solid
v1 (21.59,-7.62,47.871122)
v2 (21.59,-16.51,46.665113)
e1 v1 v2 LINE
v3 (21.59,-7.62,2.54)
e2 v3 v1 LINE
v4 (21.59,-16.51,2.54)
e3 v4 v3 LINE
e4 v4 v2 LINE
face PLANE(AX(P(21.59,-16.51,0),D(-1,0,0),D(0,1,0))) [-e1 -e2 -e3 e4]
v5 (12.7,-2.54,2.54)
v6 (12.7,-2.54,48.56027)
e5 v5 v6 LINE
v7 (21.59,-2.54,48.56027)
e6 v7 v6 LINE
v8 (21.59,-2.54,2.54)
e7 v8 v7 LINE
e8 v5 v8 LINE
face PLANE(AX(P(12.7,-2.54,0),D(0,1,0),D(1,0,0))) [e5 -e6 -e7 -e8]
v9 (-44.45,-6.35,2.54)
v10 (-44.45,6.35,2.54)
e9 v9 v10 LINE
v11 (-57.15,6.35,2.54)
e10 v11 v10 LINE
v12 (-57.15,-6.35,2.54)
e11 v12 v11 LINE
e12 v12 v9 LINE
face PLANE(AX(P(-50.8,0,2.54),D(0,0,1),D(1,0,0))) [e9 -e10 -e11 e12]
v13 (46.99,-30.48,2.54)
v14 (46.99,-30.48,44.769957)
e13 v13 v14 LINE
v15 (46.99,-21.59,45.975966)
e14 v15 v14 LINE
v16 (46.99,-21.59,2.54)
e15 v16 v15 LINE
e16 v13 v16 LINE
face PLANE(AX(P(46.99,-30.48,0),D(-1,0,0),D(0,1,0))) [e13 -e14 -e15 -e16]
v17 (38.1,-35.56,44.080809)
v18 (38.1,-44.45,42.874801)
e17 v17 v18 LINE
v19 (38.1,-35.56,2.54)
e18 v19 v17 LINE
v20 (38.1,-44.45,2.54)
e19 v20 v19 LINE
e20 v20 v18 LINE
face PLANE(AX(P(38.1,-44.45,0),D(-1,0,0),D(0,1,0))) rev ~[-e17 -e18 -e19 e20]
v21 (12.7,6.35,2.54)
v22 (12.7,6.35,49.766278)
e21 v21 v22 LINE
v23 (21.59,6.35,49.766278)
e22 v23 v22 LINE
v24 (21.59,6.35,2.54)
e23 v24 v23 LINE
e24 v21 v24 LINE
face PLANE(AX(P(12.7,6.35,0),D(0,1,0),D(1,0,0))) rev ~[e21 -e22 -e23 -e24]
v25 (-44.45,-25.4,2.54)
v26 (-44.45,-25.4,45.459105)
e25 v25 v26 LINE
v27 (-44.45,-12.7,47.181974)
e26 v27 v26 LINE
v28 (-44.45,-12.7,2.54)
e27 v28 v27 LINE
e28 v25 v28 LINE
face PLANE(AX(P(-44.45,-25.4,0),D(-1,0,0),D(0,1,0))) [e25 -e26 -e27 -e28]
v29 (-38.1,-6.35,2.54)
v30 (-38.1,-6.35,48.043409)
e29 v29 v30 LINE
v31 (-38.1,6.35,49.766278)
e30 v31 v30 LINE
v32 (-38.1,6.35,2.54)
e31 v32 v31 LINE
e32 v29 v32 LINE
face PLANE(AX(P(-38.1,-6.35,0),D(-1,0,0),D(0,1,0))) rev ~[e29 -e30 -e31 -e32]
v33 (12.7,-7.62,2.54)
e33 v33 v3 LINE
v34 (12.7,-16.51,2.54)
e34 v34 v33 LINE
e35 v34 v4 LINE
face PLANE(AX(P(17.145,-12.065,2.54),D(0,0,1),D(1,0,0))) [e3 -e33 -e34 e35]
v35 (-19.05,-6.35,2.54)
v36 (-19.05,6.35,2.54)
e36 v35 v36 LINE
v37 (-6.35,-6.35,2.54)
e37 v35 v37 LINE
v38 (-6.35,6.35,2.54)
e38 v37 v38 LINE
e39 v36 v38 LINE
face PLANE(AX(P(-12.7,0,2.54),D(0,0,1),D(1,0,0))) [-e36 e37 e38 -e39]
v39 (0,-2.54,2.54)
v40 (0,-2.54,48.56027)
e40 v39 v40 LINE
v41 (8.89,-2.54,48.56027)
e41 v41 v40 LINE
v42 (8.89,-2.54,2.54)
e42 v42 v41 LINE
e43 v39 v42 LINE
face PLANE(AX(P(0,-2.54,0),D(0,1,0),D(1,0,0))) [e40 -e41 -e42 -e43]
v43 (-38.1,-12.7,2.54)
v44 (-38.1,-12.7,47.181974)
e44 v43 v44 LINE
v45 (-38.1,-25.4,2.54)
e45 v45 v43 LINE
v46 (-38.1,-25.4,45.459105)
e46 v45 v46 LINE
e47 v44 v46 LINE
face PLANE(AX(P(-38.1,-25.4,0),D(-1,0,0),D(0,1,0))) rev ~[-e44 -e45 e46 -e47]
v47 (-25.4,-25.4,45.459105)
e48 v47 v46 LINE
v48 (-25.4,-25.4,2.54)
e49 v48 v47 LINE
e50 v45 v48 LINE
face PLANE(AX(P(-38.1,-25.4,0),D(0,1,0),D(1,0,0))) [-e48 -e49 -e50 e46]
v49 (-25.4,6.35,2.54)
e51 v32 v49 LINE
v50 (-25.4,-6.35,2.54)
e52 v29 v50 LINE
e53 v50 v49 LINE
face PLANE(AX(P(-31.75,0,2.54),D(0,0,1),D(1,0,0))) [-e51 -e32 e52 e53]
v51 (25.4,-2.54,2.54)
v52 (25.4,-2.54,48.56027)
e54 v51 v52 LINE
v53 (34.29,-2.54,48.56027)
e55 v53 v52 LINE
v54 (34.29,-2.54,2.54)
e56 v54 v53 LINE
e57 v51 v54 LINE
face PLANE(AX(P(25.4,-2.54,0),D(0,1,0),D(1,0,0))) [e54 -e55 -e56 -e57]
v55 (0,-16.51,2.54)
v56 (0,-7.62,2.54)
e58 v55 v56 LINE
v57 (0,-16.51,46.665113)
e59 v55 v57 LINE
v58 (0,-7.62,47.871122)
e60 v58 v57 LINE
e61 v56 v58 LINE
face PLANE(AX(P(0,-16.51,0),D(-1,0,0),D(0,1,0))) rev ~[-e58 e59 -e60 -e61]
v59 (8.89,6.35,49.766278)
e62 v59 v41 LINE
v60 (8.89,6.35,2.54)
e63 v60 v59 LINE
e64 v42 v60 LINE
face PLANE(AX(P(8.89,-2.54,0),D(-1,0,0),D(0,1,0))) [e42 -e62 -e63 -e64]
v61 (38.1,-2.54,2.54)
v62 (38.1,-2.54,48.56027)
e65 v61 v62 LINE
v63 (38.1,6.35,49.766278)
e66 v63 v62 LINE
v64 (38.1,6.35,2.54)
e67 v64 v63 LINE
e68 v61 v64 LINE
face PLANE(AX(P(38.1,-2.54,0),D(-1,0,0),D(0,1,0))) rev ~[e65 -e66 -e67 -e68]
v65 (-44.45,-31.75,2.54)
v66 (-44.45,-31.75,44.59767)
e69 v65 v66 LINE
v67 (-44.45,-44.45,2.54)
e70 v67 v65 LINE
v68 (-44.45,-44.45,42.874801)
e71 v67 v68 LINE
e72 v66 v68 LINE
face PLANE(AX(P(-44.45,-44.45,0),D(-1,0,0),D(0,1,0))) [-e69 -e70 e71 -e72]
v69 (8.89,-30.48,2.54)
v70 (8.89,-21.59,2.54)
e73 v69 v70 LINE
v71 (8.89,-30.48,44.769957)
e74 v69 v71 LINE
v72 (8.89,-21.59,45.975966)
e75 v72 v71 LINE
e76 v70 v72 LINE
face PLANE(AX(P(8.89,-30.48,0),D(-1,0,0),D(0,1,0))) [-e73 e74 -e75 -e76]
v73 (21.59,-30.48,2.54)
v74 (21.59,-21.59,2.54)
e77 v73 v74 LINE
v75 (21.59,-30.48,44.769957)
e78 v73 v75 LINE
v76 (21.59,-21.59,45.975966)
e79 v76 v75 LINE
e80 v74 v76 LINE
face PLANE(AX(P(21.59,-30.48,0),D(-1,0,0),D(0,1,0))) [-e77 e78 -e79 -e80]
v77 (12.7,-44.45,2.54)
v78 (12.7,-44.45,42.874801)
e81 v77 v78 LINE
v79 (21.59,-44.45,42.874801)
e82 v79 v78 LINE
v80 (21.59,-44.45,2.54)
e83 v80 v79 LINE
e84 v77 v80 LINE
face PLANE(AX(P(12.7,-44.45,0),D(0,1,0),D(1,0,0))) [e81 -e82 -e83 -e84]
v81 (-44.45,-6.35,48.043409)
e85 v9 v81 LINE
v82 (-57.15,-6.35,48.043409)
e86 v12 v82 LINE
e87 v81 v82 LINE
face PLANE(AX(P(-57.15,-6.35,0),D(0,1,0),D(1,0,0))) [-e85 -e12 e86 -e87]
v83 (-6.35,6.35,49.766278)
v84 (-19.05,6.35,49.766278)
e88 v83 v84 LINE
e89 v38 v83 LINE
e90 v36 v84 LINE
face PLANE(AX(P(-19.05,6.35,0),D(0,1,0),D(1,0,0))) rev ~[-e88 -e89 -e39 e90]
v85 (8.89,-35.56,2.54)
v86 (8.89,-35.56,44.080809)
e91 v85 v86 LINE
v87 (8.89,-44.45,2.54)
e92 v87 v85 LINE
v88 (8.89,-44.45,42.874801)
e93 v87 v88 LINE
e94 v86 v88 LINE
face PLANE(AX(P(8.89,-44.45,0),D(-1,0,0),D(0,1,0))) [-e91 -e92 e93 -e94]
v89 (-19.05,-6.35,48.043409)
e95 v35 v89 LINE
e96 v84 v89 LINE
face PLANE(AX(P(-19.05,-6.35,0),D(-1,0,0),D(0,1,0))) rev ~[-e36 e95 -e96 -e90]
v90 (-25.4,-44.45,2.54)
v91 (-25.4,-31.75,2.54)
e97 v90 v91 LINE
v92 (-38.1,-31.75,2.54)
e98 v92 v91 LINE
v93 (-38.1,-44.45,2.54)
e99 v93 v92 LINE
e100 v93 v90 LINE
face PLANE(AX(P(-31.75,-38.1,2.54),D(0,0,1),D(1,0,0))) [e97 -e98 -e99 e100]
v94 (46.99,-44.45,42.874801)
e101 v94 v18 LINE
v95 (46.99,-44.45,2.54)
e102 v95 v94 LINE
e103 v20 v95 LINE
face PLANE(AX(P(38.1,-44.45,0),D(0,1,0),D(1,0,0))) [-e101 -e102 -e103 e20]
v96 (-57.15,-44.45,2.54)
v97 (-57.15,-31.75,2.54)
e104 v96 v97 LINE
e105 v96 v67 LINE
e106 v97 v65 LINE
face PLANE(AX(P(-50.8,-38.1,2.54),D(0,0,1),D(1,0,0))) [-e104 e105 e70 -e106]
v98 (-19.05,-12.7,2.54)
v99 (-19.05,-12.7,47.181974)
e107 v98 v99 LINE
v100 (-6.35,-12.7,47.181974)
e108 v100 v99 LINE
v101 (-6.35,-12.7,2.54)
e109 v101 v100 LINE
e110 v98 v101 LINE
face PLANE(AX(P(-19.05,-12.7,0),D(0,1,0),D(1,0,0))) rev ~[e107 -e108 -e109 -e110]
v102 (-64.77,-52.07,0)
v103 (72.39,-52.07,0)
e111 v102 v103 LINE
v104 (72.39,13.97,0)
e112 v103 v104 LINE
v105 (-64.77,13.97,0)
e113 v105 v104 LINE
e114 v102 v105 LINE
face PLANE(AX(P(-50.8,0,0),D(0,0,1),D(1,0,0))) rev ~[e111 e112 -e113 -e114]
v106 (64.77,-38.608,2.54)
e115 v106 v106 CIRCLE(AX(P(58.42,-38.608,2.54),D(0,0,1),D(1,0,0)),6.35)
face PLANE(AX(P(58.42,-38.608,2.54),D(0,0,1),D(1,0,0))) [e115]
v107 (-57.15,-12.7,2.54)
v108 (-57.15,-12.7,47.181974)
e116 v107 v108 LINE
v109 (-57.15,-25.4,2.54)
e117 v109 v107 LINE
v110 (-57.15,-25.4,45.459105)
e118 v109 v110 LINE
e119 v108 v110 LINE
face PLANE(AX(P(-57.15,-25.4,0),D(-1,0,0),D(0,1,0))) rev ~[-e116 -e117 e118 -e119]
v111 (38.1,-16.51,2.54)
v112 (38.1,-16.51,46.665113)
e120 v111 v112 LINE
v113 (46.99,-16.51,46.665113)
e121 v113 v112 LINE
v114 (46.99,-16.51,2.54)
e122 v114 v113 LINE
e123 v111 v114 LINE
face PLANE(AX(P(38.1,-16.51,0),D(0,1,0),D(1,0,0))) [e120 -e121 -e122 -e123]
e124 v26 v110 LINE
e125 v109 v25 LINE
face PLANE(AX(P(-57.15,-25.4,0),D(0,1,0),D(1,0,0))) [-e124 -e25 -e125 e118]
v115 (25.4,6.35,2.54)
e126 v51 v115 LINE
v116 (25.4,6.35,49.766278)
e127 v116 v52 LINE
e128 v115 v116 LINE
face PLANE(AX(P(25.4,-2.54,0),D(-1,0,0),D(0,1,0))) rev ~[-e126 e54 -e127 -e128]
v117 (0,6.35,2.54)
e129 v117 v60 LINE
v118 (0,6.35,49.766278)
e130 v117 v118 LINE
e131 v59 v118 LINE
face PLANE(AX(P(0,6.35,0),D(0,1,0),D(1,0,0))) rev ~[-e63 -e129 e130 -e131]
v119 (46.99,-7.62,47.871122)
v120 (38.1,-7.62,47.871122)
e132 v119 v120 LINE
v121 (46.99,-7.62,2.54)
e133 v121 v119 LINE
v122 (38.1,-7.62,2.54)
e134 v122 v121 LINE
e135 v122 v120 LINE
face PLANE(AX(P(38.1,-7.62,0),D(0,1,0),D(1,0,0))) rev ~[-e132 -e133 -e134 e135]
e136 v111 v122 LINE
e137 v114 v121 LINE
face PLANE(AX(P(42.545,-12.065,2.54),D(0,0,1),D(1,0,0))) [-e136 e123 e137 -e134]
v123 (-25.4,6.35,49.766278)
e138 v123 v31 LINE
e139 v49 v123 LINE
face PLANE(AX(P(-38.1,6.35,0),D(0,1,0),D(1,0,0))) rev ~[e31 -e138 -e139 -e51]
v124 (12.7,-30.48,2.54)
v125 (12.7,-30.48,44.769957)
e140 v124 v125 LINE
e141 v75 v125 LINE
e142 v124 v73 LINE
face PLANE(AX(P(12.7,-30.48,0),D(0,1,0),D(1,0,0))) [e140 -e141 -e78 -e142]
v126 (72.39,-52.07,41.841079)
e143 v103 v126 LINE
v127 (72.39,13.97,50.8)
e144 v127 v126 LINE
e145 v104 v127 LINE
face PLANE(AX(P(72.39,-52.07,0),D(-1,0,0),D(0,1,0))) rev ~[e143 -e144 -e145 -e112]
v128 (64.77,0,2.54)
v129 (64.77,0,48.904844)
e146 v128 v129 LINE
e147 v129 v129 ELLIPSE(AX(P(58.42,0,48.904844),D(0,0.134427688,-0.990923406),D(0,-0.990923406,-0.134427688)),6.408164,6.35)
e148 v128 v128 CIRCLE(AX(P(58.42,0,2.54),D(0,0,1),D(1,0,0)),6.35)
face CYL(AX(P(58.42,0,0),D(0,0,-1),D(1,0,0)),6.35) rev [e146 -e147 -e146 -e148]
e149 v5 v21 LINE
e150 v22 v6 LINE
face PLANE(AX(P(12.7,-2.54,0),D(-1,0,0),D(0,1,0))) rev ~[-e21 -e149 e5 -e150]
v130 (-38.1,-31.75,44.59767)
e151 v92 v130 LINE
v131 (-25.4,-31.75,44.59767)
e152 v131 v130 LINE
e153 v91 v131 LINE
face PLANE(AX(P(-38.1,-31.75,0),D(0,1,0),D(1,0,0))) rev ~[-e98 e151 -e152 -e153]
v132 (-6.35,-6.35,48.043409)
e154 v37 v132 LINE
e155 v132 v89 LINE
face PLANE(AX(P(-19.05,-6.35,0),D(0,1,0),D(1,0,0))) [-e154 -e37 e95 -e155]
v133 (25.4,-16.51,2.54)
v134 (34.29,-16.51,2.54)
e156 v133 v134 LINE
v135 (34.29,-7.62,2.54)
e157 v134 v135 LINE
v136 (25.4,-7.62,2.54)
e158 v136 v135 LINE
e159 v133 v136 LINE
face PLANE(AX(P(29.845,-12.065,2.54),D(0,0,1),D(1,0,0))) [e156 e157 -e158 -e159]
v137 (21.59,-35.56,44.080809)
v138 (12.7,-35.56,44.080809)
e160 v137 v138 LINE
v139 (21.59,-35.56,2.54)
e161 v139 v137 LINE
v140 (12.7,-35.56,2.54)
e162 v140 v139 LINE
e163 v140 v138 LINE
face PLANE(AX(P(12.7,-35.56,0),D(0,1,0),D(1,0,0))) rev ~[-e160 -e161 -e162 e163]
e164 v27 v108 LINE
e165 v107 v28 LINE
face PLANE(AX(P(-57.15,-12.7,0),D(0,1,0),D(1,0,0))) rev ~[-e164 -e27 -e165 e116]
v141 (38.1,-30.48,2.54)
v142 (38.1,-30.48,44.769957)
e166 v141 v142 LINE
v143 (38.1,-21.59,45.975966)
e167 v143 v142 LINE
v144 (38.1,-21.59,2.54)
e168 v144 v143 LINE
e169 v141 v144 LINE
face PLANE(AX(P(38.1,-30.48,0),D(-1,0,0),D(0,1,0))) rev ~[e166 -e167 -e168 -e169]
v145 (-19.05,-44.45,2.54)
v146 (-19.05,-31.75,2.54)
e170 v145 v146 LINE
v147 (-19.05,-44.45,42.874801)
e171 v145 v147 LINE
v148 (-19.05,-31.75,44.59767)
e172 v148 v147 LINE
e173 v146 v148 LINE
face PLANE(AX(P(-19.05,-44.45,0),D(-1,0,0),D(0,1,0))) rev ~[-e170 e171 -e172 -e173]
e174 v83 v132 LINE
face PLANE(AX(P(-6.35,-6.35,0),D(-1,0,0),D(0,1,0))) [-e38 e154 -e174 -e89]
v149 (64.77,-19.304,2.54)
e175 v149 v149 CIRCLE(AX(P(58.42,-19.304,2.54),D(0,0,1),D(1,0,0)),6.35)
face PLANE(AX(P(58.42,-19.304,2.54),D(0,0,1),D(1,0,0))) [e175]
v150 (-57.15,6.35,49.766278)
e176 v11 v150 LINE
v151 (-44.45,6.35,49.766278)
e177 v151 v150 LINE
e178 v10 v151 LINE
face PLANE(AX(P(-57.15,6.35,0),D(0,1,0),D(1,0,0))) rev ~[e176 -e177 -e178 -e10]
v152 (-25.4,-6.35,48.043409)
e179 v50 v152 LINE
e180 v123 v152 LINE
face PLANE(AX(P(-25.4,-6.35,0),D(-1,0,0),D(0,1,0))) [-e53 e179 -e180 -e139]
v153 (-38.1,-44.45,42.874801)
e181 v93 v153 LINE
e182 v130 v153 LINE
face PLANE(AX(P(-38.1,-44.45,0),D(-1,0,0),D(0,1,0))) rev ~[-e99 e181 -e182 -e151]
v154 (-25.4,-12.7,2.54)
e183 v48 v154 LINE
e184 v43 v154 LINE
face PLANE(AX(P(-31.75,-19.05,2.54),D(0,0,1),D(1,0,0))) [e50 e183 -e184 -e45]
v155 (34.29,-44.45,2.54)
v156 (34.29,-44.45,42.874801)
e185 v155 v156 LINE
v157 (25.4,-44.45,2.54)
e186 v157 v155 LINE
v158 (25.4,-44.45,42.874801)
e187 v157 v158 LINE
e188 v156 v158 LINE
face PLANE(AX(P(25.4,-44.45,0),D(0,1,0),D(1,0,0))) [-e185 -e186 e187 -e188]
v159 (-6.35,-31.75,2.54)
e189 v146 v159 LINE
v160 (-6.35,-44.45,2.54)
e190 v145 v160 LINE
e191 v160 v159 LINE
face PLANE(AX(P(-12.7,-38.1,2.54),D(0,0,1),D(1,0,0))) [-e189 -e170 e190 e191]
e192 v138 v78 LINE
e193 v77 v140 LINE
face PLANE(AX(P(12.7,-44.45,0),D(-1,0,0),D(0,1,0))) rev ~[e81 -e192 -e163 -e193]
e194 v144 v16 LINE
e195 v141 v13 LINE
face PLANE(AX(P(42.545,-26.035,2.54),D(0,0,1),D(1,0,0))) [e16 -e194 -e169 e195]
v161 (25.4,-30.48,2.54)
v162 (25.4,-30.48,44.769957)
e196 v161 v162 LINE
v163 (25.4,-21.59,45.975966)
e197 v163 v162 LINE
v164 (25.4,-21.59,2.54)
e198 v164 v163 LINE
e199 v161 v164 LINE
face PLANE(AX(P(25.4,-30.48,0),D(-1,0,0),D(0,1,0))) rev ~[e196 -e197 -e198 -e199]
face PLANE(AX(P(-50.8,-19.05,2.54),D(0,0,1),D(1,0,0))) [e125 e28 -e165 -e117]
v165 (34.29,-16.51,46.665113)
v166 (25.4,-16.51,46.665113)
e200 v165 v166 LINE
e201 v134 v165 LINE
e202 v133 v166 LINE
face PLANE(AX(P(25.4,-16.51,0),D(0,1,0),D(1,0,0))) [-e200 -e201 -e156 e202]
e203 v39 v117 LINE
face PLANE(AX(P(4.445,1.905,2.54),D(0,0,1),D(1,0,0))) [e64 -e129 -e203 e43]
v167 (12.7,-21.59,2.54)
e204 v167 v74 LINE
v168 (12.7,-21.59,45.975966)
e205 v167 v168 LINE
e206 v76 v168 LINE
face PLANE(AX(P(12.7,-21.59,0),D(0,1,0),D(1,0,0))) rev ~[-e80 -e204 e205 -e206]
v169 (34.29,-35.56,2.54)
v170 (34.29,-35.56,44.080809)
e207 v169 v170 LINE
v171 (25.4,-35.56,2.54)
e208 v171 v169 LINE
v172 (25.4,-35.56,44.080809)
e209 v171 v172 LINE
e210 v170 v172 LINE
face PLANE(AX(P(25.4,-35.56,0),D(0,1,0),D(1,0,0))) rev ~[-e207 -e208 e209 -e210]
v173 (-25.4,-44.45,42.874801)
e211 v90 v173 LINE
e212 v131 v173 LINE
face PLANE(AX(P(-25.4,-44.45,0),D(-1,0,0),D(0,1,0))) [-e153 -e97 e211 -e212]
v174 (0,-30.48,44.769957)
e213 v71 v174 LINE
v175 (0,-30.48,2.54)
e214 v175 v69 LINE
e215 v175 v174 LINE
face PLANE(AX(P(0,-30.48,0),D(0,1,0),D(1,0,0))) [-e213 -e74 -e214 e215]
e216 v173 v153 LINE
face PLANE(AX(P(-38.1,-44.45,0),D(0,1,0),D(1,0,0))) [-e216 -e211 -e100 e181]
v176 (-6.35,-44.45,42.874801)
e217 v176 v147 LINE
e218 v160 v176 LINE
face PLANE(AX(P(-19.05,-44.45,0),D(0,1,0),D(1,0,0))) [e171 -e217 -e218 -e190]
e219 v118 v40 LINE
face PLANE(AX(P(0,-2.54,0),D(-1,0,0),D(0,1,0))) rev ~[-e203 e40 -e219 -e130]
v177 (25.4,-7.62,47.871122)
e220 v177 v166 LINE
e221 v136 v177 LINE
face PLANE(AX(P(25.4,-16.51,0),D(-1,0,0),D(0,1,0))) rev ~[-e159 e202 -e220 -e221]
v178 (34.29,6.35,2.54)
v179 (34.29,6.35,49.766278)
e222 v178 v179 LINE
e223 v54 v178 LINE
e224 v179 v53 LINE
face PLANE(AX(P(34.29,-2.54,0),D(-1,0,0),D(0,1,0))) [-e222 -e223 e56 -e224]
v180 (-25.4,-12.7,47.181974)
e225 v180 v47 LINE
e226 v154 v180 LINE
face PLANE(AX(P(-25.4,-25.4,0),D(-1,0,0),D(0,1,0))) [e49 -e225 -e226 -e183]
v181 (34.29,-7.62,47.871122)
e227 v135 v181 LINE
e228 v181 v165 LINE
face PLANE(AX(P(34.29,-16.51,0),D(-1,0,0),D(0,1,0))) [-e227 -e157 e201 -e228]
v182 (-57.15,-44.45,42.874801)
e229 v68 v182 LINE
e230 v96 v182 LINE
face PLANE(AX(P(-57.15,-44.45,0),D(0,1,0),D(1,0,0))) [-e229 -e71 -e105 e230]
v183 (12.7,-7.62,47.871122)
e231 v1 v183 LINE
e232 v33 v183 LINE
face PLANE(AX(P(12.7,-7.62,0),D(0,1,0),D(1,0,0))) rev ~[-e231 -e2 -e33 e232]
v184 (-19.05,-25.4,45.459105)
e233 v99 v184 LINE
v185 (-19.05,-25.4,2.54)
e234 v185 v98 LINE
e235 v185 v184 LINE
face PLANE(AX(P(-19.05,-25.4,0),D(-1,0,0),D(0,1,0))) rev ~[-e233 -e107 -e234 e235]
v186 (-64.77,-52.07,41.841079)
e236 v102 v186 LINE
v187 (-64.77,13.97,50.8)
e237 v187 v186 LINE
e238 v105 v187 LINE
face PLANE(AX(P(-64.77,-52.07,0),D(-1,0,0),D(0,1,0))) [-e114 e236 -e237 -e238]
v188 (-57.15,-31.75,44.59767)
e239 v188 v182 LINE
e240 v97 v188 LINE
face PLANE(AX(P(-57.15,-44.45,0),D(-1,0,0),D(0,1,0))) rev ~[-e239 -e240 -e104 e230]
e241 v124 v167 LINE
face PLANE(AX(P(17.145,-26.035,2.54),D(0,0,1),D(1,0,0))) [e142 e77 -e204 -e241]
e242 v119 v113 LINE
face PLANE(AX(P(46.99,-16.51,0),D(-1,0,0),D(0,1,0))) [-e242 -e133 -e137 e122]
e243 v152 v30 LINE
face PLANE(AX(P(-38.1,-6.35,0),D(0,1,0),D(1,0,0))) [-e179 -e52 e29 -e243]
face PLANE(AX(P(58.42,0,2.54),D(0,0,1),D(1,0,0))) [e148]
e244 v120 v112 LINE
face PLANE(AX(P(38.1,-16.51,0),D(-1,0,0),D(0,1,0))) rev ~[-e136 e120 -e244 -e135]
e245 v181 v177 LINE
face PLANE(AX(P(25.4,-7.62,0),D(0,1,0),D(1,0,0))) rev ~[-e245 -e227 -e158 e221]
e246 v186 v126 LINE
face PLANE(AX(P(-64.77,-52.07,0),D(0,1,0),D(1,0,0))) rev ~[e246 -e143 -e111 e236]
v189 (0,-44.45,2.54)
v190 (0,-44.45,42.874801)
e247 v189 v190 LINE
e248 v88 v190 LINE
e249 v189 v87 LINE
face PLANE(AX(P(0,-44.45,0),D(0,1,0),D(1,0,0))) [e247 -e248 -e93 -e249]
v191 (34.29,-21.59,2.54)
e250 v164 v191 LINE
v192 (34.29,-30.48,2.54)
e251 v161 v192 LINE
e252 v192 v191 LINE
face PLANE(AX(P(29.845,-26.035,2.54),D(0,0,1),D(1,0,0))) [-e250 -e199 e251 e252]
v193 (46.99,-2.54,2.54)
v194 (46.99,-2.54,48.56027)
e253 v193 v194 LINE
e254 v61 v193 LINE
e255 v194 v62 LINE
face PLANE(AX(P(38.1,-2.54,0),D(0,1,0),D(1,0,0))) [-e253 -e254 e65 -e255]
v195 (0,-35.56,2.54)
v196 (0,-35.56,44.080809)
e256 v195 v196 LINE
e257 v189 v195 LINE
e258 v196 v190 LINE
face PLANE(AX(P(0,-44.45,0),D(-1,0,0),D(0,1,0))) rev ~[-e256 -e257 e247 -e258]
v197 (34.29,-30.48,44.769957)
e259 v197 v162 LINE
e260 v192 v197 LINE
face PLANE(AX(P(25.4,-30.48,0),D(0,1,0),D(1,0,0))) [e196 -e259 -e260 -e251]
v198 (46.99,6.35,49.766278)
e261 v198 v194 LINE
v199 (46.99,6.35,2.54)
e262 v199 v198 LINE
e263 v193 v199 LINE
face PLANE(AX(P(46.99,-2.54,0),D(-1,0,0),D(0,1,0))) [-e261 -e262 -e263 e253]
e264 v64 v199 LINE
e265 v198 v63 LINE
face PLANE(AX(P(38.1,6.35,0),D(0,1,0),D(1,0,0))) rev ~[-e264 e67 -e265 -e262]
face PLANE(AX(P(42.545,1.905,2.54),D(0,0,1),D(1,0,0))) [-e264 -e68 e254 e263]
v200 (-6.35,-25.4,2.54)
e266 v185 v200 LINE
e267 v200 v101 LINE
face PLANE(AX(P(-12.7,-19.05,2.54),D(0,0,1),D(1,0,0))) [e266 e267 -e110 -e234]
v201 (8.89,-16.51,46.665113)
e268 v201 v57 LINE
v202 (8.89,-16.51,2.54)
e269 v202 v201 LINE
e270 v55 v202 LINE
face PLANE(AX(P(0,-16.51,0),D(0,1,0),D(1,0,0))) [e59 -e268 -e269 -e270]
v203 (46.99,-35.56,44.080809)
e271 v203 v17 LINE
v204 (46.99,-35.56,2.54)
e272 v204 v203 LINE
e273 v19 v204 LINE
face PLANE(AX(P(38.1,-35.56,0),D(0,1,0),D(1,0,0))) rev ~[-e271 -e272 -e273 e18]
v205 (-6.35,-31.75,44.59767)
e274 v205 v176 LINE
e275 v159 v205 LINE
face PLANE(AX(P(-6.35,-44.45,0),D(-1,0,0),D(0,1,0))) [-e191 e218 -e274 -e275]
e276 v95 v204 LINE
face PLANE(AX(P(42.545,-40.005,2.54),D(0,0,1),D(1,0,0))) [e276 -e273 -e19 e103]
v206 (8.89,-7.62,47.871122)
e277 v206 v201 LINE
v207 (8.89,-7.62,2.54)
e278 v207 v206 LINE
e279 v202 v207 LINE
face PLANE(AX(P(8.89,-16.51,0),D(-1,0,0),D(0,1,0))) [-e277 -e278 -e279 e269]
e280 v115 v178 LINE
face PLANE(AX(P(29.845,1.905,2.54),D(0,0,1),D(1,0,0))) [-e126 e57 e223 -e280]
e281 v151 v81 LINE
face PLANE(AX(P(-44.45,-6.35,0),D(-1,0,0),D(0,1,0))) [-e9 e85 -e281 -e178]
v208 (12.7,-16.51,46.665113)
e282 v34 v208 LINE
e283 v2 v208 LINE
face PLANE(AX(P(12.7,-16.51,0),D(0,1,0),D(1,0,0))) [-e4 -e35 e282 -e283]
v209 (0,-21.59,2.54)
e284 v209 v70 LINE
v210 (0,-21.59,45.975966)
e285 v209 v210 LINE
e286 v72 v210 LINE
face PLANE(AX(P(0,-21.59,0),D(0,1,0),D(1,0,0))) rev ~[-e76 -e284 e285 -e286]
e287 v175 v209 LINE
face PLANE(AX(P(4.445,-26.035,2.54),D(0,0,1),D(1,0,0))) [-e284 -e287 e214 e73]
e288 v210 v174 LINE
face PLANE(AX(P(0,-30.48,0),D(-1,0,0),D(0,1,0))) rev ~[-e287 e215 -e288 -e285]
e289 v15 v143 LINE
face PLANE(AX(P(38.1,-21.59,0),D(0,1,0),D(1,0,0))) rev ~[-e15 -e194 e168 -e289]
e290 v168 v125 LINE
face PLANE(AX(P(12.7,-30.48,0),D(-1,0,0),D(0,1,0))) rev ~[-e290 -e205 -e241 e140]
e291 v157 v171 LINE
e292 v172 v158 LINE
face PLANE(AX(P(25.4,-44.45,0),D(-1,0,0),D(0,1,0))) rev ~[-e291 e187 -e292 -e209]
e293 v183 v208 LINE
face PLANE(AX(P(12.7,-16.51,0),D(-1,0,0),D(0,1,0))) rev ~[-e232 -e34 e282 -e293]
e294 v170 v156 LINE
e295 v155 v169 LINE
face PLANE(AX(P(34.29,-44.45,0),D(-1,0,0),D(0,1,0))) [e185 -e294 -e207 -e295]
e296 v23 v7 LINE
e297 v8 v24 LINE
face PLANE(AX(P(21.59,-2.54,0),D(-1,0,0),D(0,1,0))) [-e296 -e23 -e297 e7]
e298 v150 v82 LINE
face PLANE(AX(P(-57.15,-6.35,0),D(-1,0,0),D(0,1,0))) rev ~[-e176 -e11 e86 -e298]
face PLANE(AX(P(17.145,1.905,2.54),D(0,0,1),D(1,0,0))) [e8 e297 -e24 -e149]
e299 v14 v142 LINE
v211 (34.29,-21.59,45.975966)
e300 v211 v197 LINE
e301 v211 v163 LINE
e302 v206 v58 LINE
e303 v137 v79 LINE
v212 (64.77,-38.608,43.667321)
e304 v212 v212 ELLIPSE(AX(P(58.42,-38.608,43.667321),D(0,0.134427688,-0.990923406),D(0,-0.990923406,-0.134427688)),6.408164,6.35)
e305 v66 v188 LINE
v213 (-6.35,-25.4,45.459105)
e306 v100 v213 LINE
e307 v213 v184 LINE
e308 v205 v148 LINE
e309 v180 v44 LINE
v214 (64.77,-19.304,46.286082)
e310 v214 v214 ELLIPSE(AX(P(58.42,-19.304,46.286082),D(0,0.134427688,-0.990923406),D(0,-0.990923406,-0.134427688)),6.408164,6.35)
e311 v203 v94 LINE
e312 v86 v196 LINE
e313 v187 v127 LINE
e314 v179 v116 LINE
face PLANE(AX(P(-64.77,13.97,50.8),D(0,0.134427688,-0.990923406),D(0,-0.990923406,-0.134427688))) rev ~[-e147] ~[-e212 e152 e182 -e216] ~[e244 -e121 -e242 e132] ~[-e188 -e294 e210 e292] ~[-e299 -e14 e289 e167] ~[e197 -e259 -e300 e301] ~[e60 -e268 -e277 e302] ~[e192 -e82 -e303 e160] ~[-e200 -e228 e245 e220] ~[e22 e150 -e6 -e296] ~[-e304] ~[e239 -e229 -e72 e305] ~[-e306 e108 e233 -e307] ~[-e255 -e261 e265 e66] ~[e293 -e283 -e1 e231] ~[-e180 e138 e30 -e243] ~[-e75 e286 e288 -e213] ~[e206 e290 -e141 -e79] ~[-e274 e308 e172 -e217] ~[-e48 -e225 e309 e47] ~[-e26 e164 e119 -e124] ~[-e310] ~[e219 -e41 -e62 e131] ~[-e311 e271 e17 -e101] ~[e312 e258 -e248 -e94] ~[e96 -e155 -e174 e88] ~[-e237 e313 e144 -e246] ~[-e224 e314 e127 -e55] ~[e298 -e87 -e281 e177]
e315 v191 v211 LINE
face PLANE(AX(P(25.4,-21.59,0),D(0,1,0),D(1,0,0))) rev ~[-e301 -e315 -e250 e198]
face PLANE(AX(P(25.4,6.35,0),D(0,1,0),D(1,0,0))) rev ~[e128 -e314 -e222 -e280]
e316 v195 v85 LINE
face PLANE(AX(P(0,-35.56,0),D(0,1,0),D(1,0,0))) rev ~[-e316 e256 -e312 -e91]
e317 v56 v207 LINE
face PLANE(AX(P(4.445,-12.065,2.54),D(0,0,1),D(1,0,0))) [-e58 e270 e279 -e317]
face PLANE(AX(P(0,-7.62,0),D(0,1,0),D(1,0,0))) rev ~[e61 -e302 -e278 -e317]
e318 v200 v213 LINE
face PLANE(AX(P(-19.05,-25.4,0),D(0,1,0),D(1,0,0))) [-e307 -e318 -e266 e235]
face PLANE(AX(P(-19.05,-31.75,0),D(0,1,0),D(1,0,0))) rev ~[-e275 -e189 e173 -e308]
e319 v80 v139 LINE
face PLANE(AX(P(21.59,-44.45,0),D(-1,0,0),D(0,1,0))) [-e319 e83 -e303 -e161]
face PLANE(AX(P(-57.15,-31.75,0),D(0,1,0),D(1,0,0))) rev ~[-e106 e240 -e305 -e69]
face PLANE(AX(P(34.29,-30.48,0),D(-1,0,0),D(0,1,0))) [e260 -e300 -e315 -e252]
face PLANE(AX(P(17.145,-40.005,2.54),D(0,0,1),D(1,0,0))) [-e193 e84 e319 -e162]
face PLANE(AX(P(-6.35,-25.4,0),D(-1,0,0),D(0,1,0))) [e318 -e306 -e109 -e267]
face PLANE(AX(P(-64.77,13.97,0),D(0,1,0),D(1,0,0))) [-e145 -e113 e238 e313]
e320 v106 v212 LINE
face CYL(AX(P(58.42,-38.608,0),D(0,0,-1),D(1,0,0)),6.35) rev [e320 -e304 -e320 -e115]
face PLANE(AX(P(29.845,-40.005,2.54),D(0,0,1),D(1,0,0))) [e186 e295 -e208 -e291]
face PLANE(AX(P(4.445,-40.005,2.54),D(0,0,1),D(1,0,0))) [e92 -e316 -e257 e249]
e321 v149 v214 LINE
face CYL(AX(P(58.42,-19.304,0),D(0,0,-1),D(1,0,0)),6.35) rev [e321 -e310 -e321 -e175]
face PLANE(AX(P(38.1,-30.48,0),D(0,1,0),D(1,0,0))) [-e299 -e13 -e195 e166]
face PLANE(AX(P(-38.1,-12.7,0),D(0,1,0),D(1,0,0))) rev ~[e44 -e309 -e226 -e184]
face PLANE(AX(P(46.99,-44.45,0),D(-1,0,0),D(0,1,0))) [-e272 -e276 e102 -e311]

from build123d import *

# Parameters (mm, degrees)
F0_W     = 137.16
F0_H     = 66.04
F0_W_2   = 12.7
F0_H_2   = 12.7
F0_W_3   = 8.89
F0_H_3   = 8.89
F0_R     = 6.35
F1_DEPTH = 50.8
F2_DEPTH = 2.54
F4_DEPTH = 149.098


with BuildPart() as f1:
    # F0 (on Top) → F1 (new body)
    with BuildSketch(Plane.XY):
        with Locations((3.81, -19.05)):
            Rectangle(F0_W, F0_H)
        with Locations((-50.8, -38.1)):
            Rectangle(F0_W_2, F0_H_2, mode=Mode.SUBTRACT)
        with Locations((-31.75, -38.1)):
            Rectangle(F0_W_2, F0_H_2, mode=Mode.SUBTRACT)
        with Locations((-12.7, -38.1)):
            Rectangle(F0_W_2, F0_H_2, mode=Mode.SUBTRACT)
        with Locations((4.445, -40.005)):
            Rectangle(F0_W_3, F0_H_3, mode=Mode.SUBTRACT)
        with Locations((17.145, -40.005)):
            Rectangle(F0_W_3, F0_H_3, mode=Mode.SUBTRACT)
        with Locations((29.845, -40.005)):
            Rectangle(F0_W_3, F0_H_3, mode=Mode.SUBTRACT)
        with Locations((42.545, -40.005)):
            Rectangle(F0_W_3, F0_H_3, mode=Mode.SUBTRACT)
        with Locations((58.42, -38.608)):
            Circle(F0_R, mode=Mode.SUBTRACT)
        with Locations((4.445, -26.035)):
            Rectangle(F0_W_3, F0_H_3, mode=Mode.SUBTRACT)
        with Locations((17.145, -26.035)):
            Rectangle(F0_W_3, F0_H_3, mode=Mode.SUBTRACT)
        with Locations((29.845, -26.035)):
            Rectangle(F0_W_3, F0_H_3, mode=Mode.SUBTRACT)
        with Locations((42.545, -26.035)):
            Rectangle(F0_W_3, F0_H_3, mode=Mode.SUBTRACT)
        with Locations((58.42, -19.304)):
            Circle(F0_R, mode=Mode.SUBTRACT)
        with Locations((-50.8, -19.05)):
            Rectangle(F0_W_2, F0_H_2, mode=Mode.SUBTRACT)
        with Locations((-31.75, -19.05)):
            Rectangle(F0_W_2, F0_H_2, mode=Mode.SUBTRACT)
        with Locations((-12.7, -19.05)):
            Rectangle(F0_W_2, F0_H_2, mode=Mode.SUBTRACT)
        with Locations((-50.8, 0)):
            Rectangle(F0_W_2, F0_H_2, mode=Mode.SUBTRACT)
        with Locations((-31.75, 0)):
            Rectangle(F0_W_2, F0_H_2, mode=Mode.SUBTRACT)
        with Locations((-12.7, 0)):
            Rectangle(F0_W_2, F0_H_2, mode=Mode.SUBTRACT)
        with Locations((4.445, -12.065)):
            Rectangle(F0_W_3, F0_H_3, mode=Mode.SUBTRACT)
        with Locations((17.145, -12.065)):
            Rectangle(F0_W_3, F0_H_3, mode=Mode.SUBTRACT)
        with Locations((29.845, -12.065)):
            Rectangle(F0_W_3, F0_H_3, mode=Mode.SUBTRACT)
        with Locations((42.545, -12.065)):
            Rectangle(F0_W_3, F0_H_3, mode=Mode.SUBTRACT)
        with Locations((4.445, 1.905)):
            Rectangle(F0_W_3, F0_H_3, mode=Mode.SUBTRACT)
        with Locations((17.145, 1.905)):
            Rectangle(F0_W_3, F0_H_3, mode=Mode.SUBTRACT)
        with Locations((29.845, 1.905)):
            Rectangle(F0_W_3, F0_H_3, mode=Mode.SUBTRACT)
        with Locations((42.545, 1.905)):
            Rectangle(F0_W_3, F0_H_3, mode=Mode.SUBTRACT)
        with Locations((58.42, 0)):
            Circle(F0_R, mode=Mode.SUBTRACT)
    extrude(amount=F1_DEPTH)

    # F0 (on Top) → F2 (join)
    with BuildSketch(Plane.XY):
        with Locations((-50.8, 0)):
            Rectangle(F0_W_2, F0_H_2)
        with Locations((-31.75, 0)):
            Rectangle(F0_W_2, F0_H_2)
        with Locations((-50.8, -19.05)):
            Rectangle(F0_W_2, F0_H_2)
        with Locations((-31.75, -19.05)):
            Rectangle(F0_W_2, F0_H_2)
        with Locations((-50.8, -38.1)):
            Rectangle(F0_W_2, F0_H_2)
        with Locations((-31.75, -38.1)):
            Rectangle(F0_W_2, F0_H_2)
        with Locations((-12.7, -38.1)):
            Rectangle(F0_W_2, F0_H_2)
        with Locations((-12.7, -19.05)):
            Rectangle(F0_W_2, F0_H_2)
        with Locations((-12.7, 0)):
            Rectangle(F0_W_2, F0_H_2)
        with Locations((4.445, 1.905)):
            Rectangle(F0_W_3, F0_H_3)
        with Locations((4.445, -12.065)):
            Rectangle(F0_W_3, F0_H_3)
        with Locations((4.445, -26.035)):
            Rectangle(F0_W_3, F0_H_3)
        with Locations((4.445, -40.005)):
            Rectangle(F0_W_3, F0_H_3)
        with Locations((17.145, -40.005)):
            Rectangle(F0_W_3, F0_H_3)
        with Locations((17.145, -26.035)):
            Rectangle(F0_W_3, F0_H_3)
        with Locations((17.145, -12.065)):
            Rectangle(F0_W_3, F0_H_3)
        with Locations((17.145, 1.905)):
            Rectangle(F0_W_3, F0_H_3)
        with Locations((29.845, 1.905)):
            Rectangle(F0_W_3, F0_H_3)
        with Locations((42.545, 1.905)):
            Rectangle(F0_W_3, F0_H_3)
        with Locations((42.545, -12.065)):
            Rectangle(F0_W_3, F0_H_3)
        with Locations((29.845, -12.065)):
            Rectangle(F0_W_3, F0_H_3)
        with Locations((29.845, -26.035)):
            Rectangle(F0_W_3, F0_H_3)
        with Locations((42.545, -26.035)):
            Rectangle(F0_W_3, F0_H_3)
        with Locations((29.845, -40.005)):
            Rectangle(F0_W_3, F0_H_3)
        with Locations((42.545, -40.005)):
            Rectangle(F0_W_3, F0_H_3)
        with Locations((58.42, -38.608)):
            Circle(F0_R)
        with Locations((58.42, -19.304)):
            Circle(F0_R)
        with Locations((58.42, 0)):
            Circle(F0_R)
    extrude(amount=F2_DEPTH)

    # F3 (on face) → F4 (cut)
    with BuildSketch(Plane(origin=(-64.77, 0, 0), x_dir=(0, -1, 0), z_dir=(-1, 0, 0))):
        Polygon((52.07, 50.8), (-13.97, 50.8), (52.07, 41.841079), align=None)
    extrude(amount=-F4_DEPTH, mode=Mode.SUBTRACT)


solid = f1.part
